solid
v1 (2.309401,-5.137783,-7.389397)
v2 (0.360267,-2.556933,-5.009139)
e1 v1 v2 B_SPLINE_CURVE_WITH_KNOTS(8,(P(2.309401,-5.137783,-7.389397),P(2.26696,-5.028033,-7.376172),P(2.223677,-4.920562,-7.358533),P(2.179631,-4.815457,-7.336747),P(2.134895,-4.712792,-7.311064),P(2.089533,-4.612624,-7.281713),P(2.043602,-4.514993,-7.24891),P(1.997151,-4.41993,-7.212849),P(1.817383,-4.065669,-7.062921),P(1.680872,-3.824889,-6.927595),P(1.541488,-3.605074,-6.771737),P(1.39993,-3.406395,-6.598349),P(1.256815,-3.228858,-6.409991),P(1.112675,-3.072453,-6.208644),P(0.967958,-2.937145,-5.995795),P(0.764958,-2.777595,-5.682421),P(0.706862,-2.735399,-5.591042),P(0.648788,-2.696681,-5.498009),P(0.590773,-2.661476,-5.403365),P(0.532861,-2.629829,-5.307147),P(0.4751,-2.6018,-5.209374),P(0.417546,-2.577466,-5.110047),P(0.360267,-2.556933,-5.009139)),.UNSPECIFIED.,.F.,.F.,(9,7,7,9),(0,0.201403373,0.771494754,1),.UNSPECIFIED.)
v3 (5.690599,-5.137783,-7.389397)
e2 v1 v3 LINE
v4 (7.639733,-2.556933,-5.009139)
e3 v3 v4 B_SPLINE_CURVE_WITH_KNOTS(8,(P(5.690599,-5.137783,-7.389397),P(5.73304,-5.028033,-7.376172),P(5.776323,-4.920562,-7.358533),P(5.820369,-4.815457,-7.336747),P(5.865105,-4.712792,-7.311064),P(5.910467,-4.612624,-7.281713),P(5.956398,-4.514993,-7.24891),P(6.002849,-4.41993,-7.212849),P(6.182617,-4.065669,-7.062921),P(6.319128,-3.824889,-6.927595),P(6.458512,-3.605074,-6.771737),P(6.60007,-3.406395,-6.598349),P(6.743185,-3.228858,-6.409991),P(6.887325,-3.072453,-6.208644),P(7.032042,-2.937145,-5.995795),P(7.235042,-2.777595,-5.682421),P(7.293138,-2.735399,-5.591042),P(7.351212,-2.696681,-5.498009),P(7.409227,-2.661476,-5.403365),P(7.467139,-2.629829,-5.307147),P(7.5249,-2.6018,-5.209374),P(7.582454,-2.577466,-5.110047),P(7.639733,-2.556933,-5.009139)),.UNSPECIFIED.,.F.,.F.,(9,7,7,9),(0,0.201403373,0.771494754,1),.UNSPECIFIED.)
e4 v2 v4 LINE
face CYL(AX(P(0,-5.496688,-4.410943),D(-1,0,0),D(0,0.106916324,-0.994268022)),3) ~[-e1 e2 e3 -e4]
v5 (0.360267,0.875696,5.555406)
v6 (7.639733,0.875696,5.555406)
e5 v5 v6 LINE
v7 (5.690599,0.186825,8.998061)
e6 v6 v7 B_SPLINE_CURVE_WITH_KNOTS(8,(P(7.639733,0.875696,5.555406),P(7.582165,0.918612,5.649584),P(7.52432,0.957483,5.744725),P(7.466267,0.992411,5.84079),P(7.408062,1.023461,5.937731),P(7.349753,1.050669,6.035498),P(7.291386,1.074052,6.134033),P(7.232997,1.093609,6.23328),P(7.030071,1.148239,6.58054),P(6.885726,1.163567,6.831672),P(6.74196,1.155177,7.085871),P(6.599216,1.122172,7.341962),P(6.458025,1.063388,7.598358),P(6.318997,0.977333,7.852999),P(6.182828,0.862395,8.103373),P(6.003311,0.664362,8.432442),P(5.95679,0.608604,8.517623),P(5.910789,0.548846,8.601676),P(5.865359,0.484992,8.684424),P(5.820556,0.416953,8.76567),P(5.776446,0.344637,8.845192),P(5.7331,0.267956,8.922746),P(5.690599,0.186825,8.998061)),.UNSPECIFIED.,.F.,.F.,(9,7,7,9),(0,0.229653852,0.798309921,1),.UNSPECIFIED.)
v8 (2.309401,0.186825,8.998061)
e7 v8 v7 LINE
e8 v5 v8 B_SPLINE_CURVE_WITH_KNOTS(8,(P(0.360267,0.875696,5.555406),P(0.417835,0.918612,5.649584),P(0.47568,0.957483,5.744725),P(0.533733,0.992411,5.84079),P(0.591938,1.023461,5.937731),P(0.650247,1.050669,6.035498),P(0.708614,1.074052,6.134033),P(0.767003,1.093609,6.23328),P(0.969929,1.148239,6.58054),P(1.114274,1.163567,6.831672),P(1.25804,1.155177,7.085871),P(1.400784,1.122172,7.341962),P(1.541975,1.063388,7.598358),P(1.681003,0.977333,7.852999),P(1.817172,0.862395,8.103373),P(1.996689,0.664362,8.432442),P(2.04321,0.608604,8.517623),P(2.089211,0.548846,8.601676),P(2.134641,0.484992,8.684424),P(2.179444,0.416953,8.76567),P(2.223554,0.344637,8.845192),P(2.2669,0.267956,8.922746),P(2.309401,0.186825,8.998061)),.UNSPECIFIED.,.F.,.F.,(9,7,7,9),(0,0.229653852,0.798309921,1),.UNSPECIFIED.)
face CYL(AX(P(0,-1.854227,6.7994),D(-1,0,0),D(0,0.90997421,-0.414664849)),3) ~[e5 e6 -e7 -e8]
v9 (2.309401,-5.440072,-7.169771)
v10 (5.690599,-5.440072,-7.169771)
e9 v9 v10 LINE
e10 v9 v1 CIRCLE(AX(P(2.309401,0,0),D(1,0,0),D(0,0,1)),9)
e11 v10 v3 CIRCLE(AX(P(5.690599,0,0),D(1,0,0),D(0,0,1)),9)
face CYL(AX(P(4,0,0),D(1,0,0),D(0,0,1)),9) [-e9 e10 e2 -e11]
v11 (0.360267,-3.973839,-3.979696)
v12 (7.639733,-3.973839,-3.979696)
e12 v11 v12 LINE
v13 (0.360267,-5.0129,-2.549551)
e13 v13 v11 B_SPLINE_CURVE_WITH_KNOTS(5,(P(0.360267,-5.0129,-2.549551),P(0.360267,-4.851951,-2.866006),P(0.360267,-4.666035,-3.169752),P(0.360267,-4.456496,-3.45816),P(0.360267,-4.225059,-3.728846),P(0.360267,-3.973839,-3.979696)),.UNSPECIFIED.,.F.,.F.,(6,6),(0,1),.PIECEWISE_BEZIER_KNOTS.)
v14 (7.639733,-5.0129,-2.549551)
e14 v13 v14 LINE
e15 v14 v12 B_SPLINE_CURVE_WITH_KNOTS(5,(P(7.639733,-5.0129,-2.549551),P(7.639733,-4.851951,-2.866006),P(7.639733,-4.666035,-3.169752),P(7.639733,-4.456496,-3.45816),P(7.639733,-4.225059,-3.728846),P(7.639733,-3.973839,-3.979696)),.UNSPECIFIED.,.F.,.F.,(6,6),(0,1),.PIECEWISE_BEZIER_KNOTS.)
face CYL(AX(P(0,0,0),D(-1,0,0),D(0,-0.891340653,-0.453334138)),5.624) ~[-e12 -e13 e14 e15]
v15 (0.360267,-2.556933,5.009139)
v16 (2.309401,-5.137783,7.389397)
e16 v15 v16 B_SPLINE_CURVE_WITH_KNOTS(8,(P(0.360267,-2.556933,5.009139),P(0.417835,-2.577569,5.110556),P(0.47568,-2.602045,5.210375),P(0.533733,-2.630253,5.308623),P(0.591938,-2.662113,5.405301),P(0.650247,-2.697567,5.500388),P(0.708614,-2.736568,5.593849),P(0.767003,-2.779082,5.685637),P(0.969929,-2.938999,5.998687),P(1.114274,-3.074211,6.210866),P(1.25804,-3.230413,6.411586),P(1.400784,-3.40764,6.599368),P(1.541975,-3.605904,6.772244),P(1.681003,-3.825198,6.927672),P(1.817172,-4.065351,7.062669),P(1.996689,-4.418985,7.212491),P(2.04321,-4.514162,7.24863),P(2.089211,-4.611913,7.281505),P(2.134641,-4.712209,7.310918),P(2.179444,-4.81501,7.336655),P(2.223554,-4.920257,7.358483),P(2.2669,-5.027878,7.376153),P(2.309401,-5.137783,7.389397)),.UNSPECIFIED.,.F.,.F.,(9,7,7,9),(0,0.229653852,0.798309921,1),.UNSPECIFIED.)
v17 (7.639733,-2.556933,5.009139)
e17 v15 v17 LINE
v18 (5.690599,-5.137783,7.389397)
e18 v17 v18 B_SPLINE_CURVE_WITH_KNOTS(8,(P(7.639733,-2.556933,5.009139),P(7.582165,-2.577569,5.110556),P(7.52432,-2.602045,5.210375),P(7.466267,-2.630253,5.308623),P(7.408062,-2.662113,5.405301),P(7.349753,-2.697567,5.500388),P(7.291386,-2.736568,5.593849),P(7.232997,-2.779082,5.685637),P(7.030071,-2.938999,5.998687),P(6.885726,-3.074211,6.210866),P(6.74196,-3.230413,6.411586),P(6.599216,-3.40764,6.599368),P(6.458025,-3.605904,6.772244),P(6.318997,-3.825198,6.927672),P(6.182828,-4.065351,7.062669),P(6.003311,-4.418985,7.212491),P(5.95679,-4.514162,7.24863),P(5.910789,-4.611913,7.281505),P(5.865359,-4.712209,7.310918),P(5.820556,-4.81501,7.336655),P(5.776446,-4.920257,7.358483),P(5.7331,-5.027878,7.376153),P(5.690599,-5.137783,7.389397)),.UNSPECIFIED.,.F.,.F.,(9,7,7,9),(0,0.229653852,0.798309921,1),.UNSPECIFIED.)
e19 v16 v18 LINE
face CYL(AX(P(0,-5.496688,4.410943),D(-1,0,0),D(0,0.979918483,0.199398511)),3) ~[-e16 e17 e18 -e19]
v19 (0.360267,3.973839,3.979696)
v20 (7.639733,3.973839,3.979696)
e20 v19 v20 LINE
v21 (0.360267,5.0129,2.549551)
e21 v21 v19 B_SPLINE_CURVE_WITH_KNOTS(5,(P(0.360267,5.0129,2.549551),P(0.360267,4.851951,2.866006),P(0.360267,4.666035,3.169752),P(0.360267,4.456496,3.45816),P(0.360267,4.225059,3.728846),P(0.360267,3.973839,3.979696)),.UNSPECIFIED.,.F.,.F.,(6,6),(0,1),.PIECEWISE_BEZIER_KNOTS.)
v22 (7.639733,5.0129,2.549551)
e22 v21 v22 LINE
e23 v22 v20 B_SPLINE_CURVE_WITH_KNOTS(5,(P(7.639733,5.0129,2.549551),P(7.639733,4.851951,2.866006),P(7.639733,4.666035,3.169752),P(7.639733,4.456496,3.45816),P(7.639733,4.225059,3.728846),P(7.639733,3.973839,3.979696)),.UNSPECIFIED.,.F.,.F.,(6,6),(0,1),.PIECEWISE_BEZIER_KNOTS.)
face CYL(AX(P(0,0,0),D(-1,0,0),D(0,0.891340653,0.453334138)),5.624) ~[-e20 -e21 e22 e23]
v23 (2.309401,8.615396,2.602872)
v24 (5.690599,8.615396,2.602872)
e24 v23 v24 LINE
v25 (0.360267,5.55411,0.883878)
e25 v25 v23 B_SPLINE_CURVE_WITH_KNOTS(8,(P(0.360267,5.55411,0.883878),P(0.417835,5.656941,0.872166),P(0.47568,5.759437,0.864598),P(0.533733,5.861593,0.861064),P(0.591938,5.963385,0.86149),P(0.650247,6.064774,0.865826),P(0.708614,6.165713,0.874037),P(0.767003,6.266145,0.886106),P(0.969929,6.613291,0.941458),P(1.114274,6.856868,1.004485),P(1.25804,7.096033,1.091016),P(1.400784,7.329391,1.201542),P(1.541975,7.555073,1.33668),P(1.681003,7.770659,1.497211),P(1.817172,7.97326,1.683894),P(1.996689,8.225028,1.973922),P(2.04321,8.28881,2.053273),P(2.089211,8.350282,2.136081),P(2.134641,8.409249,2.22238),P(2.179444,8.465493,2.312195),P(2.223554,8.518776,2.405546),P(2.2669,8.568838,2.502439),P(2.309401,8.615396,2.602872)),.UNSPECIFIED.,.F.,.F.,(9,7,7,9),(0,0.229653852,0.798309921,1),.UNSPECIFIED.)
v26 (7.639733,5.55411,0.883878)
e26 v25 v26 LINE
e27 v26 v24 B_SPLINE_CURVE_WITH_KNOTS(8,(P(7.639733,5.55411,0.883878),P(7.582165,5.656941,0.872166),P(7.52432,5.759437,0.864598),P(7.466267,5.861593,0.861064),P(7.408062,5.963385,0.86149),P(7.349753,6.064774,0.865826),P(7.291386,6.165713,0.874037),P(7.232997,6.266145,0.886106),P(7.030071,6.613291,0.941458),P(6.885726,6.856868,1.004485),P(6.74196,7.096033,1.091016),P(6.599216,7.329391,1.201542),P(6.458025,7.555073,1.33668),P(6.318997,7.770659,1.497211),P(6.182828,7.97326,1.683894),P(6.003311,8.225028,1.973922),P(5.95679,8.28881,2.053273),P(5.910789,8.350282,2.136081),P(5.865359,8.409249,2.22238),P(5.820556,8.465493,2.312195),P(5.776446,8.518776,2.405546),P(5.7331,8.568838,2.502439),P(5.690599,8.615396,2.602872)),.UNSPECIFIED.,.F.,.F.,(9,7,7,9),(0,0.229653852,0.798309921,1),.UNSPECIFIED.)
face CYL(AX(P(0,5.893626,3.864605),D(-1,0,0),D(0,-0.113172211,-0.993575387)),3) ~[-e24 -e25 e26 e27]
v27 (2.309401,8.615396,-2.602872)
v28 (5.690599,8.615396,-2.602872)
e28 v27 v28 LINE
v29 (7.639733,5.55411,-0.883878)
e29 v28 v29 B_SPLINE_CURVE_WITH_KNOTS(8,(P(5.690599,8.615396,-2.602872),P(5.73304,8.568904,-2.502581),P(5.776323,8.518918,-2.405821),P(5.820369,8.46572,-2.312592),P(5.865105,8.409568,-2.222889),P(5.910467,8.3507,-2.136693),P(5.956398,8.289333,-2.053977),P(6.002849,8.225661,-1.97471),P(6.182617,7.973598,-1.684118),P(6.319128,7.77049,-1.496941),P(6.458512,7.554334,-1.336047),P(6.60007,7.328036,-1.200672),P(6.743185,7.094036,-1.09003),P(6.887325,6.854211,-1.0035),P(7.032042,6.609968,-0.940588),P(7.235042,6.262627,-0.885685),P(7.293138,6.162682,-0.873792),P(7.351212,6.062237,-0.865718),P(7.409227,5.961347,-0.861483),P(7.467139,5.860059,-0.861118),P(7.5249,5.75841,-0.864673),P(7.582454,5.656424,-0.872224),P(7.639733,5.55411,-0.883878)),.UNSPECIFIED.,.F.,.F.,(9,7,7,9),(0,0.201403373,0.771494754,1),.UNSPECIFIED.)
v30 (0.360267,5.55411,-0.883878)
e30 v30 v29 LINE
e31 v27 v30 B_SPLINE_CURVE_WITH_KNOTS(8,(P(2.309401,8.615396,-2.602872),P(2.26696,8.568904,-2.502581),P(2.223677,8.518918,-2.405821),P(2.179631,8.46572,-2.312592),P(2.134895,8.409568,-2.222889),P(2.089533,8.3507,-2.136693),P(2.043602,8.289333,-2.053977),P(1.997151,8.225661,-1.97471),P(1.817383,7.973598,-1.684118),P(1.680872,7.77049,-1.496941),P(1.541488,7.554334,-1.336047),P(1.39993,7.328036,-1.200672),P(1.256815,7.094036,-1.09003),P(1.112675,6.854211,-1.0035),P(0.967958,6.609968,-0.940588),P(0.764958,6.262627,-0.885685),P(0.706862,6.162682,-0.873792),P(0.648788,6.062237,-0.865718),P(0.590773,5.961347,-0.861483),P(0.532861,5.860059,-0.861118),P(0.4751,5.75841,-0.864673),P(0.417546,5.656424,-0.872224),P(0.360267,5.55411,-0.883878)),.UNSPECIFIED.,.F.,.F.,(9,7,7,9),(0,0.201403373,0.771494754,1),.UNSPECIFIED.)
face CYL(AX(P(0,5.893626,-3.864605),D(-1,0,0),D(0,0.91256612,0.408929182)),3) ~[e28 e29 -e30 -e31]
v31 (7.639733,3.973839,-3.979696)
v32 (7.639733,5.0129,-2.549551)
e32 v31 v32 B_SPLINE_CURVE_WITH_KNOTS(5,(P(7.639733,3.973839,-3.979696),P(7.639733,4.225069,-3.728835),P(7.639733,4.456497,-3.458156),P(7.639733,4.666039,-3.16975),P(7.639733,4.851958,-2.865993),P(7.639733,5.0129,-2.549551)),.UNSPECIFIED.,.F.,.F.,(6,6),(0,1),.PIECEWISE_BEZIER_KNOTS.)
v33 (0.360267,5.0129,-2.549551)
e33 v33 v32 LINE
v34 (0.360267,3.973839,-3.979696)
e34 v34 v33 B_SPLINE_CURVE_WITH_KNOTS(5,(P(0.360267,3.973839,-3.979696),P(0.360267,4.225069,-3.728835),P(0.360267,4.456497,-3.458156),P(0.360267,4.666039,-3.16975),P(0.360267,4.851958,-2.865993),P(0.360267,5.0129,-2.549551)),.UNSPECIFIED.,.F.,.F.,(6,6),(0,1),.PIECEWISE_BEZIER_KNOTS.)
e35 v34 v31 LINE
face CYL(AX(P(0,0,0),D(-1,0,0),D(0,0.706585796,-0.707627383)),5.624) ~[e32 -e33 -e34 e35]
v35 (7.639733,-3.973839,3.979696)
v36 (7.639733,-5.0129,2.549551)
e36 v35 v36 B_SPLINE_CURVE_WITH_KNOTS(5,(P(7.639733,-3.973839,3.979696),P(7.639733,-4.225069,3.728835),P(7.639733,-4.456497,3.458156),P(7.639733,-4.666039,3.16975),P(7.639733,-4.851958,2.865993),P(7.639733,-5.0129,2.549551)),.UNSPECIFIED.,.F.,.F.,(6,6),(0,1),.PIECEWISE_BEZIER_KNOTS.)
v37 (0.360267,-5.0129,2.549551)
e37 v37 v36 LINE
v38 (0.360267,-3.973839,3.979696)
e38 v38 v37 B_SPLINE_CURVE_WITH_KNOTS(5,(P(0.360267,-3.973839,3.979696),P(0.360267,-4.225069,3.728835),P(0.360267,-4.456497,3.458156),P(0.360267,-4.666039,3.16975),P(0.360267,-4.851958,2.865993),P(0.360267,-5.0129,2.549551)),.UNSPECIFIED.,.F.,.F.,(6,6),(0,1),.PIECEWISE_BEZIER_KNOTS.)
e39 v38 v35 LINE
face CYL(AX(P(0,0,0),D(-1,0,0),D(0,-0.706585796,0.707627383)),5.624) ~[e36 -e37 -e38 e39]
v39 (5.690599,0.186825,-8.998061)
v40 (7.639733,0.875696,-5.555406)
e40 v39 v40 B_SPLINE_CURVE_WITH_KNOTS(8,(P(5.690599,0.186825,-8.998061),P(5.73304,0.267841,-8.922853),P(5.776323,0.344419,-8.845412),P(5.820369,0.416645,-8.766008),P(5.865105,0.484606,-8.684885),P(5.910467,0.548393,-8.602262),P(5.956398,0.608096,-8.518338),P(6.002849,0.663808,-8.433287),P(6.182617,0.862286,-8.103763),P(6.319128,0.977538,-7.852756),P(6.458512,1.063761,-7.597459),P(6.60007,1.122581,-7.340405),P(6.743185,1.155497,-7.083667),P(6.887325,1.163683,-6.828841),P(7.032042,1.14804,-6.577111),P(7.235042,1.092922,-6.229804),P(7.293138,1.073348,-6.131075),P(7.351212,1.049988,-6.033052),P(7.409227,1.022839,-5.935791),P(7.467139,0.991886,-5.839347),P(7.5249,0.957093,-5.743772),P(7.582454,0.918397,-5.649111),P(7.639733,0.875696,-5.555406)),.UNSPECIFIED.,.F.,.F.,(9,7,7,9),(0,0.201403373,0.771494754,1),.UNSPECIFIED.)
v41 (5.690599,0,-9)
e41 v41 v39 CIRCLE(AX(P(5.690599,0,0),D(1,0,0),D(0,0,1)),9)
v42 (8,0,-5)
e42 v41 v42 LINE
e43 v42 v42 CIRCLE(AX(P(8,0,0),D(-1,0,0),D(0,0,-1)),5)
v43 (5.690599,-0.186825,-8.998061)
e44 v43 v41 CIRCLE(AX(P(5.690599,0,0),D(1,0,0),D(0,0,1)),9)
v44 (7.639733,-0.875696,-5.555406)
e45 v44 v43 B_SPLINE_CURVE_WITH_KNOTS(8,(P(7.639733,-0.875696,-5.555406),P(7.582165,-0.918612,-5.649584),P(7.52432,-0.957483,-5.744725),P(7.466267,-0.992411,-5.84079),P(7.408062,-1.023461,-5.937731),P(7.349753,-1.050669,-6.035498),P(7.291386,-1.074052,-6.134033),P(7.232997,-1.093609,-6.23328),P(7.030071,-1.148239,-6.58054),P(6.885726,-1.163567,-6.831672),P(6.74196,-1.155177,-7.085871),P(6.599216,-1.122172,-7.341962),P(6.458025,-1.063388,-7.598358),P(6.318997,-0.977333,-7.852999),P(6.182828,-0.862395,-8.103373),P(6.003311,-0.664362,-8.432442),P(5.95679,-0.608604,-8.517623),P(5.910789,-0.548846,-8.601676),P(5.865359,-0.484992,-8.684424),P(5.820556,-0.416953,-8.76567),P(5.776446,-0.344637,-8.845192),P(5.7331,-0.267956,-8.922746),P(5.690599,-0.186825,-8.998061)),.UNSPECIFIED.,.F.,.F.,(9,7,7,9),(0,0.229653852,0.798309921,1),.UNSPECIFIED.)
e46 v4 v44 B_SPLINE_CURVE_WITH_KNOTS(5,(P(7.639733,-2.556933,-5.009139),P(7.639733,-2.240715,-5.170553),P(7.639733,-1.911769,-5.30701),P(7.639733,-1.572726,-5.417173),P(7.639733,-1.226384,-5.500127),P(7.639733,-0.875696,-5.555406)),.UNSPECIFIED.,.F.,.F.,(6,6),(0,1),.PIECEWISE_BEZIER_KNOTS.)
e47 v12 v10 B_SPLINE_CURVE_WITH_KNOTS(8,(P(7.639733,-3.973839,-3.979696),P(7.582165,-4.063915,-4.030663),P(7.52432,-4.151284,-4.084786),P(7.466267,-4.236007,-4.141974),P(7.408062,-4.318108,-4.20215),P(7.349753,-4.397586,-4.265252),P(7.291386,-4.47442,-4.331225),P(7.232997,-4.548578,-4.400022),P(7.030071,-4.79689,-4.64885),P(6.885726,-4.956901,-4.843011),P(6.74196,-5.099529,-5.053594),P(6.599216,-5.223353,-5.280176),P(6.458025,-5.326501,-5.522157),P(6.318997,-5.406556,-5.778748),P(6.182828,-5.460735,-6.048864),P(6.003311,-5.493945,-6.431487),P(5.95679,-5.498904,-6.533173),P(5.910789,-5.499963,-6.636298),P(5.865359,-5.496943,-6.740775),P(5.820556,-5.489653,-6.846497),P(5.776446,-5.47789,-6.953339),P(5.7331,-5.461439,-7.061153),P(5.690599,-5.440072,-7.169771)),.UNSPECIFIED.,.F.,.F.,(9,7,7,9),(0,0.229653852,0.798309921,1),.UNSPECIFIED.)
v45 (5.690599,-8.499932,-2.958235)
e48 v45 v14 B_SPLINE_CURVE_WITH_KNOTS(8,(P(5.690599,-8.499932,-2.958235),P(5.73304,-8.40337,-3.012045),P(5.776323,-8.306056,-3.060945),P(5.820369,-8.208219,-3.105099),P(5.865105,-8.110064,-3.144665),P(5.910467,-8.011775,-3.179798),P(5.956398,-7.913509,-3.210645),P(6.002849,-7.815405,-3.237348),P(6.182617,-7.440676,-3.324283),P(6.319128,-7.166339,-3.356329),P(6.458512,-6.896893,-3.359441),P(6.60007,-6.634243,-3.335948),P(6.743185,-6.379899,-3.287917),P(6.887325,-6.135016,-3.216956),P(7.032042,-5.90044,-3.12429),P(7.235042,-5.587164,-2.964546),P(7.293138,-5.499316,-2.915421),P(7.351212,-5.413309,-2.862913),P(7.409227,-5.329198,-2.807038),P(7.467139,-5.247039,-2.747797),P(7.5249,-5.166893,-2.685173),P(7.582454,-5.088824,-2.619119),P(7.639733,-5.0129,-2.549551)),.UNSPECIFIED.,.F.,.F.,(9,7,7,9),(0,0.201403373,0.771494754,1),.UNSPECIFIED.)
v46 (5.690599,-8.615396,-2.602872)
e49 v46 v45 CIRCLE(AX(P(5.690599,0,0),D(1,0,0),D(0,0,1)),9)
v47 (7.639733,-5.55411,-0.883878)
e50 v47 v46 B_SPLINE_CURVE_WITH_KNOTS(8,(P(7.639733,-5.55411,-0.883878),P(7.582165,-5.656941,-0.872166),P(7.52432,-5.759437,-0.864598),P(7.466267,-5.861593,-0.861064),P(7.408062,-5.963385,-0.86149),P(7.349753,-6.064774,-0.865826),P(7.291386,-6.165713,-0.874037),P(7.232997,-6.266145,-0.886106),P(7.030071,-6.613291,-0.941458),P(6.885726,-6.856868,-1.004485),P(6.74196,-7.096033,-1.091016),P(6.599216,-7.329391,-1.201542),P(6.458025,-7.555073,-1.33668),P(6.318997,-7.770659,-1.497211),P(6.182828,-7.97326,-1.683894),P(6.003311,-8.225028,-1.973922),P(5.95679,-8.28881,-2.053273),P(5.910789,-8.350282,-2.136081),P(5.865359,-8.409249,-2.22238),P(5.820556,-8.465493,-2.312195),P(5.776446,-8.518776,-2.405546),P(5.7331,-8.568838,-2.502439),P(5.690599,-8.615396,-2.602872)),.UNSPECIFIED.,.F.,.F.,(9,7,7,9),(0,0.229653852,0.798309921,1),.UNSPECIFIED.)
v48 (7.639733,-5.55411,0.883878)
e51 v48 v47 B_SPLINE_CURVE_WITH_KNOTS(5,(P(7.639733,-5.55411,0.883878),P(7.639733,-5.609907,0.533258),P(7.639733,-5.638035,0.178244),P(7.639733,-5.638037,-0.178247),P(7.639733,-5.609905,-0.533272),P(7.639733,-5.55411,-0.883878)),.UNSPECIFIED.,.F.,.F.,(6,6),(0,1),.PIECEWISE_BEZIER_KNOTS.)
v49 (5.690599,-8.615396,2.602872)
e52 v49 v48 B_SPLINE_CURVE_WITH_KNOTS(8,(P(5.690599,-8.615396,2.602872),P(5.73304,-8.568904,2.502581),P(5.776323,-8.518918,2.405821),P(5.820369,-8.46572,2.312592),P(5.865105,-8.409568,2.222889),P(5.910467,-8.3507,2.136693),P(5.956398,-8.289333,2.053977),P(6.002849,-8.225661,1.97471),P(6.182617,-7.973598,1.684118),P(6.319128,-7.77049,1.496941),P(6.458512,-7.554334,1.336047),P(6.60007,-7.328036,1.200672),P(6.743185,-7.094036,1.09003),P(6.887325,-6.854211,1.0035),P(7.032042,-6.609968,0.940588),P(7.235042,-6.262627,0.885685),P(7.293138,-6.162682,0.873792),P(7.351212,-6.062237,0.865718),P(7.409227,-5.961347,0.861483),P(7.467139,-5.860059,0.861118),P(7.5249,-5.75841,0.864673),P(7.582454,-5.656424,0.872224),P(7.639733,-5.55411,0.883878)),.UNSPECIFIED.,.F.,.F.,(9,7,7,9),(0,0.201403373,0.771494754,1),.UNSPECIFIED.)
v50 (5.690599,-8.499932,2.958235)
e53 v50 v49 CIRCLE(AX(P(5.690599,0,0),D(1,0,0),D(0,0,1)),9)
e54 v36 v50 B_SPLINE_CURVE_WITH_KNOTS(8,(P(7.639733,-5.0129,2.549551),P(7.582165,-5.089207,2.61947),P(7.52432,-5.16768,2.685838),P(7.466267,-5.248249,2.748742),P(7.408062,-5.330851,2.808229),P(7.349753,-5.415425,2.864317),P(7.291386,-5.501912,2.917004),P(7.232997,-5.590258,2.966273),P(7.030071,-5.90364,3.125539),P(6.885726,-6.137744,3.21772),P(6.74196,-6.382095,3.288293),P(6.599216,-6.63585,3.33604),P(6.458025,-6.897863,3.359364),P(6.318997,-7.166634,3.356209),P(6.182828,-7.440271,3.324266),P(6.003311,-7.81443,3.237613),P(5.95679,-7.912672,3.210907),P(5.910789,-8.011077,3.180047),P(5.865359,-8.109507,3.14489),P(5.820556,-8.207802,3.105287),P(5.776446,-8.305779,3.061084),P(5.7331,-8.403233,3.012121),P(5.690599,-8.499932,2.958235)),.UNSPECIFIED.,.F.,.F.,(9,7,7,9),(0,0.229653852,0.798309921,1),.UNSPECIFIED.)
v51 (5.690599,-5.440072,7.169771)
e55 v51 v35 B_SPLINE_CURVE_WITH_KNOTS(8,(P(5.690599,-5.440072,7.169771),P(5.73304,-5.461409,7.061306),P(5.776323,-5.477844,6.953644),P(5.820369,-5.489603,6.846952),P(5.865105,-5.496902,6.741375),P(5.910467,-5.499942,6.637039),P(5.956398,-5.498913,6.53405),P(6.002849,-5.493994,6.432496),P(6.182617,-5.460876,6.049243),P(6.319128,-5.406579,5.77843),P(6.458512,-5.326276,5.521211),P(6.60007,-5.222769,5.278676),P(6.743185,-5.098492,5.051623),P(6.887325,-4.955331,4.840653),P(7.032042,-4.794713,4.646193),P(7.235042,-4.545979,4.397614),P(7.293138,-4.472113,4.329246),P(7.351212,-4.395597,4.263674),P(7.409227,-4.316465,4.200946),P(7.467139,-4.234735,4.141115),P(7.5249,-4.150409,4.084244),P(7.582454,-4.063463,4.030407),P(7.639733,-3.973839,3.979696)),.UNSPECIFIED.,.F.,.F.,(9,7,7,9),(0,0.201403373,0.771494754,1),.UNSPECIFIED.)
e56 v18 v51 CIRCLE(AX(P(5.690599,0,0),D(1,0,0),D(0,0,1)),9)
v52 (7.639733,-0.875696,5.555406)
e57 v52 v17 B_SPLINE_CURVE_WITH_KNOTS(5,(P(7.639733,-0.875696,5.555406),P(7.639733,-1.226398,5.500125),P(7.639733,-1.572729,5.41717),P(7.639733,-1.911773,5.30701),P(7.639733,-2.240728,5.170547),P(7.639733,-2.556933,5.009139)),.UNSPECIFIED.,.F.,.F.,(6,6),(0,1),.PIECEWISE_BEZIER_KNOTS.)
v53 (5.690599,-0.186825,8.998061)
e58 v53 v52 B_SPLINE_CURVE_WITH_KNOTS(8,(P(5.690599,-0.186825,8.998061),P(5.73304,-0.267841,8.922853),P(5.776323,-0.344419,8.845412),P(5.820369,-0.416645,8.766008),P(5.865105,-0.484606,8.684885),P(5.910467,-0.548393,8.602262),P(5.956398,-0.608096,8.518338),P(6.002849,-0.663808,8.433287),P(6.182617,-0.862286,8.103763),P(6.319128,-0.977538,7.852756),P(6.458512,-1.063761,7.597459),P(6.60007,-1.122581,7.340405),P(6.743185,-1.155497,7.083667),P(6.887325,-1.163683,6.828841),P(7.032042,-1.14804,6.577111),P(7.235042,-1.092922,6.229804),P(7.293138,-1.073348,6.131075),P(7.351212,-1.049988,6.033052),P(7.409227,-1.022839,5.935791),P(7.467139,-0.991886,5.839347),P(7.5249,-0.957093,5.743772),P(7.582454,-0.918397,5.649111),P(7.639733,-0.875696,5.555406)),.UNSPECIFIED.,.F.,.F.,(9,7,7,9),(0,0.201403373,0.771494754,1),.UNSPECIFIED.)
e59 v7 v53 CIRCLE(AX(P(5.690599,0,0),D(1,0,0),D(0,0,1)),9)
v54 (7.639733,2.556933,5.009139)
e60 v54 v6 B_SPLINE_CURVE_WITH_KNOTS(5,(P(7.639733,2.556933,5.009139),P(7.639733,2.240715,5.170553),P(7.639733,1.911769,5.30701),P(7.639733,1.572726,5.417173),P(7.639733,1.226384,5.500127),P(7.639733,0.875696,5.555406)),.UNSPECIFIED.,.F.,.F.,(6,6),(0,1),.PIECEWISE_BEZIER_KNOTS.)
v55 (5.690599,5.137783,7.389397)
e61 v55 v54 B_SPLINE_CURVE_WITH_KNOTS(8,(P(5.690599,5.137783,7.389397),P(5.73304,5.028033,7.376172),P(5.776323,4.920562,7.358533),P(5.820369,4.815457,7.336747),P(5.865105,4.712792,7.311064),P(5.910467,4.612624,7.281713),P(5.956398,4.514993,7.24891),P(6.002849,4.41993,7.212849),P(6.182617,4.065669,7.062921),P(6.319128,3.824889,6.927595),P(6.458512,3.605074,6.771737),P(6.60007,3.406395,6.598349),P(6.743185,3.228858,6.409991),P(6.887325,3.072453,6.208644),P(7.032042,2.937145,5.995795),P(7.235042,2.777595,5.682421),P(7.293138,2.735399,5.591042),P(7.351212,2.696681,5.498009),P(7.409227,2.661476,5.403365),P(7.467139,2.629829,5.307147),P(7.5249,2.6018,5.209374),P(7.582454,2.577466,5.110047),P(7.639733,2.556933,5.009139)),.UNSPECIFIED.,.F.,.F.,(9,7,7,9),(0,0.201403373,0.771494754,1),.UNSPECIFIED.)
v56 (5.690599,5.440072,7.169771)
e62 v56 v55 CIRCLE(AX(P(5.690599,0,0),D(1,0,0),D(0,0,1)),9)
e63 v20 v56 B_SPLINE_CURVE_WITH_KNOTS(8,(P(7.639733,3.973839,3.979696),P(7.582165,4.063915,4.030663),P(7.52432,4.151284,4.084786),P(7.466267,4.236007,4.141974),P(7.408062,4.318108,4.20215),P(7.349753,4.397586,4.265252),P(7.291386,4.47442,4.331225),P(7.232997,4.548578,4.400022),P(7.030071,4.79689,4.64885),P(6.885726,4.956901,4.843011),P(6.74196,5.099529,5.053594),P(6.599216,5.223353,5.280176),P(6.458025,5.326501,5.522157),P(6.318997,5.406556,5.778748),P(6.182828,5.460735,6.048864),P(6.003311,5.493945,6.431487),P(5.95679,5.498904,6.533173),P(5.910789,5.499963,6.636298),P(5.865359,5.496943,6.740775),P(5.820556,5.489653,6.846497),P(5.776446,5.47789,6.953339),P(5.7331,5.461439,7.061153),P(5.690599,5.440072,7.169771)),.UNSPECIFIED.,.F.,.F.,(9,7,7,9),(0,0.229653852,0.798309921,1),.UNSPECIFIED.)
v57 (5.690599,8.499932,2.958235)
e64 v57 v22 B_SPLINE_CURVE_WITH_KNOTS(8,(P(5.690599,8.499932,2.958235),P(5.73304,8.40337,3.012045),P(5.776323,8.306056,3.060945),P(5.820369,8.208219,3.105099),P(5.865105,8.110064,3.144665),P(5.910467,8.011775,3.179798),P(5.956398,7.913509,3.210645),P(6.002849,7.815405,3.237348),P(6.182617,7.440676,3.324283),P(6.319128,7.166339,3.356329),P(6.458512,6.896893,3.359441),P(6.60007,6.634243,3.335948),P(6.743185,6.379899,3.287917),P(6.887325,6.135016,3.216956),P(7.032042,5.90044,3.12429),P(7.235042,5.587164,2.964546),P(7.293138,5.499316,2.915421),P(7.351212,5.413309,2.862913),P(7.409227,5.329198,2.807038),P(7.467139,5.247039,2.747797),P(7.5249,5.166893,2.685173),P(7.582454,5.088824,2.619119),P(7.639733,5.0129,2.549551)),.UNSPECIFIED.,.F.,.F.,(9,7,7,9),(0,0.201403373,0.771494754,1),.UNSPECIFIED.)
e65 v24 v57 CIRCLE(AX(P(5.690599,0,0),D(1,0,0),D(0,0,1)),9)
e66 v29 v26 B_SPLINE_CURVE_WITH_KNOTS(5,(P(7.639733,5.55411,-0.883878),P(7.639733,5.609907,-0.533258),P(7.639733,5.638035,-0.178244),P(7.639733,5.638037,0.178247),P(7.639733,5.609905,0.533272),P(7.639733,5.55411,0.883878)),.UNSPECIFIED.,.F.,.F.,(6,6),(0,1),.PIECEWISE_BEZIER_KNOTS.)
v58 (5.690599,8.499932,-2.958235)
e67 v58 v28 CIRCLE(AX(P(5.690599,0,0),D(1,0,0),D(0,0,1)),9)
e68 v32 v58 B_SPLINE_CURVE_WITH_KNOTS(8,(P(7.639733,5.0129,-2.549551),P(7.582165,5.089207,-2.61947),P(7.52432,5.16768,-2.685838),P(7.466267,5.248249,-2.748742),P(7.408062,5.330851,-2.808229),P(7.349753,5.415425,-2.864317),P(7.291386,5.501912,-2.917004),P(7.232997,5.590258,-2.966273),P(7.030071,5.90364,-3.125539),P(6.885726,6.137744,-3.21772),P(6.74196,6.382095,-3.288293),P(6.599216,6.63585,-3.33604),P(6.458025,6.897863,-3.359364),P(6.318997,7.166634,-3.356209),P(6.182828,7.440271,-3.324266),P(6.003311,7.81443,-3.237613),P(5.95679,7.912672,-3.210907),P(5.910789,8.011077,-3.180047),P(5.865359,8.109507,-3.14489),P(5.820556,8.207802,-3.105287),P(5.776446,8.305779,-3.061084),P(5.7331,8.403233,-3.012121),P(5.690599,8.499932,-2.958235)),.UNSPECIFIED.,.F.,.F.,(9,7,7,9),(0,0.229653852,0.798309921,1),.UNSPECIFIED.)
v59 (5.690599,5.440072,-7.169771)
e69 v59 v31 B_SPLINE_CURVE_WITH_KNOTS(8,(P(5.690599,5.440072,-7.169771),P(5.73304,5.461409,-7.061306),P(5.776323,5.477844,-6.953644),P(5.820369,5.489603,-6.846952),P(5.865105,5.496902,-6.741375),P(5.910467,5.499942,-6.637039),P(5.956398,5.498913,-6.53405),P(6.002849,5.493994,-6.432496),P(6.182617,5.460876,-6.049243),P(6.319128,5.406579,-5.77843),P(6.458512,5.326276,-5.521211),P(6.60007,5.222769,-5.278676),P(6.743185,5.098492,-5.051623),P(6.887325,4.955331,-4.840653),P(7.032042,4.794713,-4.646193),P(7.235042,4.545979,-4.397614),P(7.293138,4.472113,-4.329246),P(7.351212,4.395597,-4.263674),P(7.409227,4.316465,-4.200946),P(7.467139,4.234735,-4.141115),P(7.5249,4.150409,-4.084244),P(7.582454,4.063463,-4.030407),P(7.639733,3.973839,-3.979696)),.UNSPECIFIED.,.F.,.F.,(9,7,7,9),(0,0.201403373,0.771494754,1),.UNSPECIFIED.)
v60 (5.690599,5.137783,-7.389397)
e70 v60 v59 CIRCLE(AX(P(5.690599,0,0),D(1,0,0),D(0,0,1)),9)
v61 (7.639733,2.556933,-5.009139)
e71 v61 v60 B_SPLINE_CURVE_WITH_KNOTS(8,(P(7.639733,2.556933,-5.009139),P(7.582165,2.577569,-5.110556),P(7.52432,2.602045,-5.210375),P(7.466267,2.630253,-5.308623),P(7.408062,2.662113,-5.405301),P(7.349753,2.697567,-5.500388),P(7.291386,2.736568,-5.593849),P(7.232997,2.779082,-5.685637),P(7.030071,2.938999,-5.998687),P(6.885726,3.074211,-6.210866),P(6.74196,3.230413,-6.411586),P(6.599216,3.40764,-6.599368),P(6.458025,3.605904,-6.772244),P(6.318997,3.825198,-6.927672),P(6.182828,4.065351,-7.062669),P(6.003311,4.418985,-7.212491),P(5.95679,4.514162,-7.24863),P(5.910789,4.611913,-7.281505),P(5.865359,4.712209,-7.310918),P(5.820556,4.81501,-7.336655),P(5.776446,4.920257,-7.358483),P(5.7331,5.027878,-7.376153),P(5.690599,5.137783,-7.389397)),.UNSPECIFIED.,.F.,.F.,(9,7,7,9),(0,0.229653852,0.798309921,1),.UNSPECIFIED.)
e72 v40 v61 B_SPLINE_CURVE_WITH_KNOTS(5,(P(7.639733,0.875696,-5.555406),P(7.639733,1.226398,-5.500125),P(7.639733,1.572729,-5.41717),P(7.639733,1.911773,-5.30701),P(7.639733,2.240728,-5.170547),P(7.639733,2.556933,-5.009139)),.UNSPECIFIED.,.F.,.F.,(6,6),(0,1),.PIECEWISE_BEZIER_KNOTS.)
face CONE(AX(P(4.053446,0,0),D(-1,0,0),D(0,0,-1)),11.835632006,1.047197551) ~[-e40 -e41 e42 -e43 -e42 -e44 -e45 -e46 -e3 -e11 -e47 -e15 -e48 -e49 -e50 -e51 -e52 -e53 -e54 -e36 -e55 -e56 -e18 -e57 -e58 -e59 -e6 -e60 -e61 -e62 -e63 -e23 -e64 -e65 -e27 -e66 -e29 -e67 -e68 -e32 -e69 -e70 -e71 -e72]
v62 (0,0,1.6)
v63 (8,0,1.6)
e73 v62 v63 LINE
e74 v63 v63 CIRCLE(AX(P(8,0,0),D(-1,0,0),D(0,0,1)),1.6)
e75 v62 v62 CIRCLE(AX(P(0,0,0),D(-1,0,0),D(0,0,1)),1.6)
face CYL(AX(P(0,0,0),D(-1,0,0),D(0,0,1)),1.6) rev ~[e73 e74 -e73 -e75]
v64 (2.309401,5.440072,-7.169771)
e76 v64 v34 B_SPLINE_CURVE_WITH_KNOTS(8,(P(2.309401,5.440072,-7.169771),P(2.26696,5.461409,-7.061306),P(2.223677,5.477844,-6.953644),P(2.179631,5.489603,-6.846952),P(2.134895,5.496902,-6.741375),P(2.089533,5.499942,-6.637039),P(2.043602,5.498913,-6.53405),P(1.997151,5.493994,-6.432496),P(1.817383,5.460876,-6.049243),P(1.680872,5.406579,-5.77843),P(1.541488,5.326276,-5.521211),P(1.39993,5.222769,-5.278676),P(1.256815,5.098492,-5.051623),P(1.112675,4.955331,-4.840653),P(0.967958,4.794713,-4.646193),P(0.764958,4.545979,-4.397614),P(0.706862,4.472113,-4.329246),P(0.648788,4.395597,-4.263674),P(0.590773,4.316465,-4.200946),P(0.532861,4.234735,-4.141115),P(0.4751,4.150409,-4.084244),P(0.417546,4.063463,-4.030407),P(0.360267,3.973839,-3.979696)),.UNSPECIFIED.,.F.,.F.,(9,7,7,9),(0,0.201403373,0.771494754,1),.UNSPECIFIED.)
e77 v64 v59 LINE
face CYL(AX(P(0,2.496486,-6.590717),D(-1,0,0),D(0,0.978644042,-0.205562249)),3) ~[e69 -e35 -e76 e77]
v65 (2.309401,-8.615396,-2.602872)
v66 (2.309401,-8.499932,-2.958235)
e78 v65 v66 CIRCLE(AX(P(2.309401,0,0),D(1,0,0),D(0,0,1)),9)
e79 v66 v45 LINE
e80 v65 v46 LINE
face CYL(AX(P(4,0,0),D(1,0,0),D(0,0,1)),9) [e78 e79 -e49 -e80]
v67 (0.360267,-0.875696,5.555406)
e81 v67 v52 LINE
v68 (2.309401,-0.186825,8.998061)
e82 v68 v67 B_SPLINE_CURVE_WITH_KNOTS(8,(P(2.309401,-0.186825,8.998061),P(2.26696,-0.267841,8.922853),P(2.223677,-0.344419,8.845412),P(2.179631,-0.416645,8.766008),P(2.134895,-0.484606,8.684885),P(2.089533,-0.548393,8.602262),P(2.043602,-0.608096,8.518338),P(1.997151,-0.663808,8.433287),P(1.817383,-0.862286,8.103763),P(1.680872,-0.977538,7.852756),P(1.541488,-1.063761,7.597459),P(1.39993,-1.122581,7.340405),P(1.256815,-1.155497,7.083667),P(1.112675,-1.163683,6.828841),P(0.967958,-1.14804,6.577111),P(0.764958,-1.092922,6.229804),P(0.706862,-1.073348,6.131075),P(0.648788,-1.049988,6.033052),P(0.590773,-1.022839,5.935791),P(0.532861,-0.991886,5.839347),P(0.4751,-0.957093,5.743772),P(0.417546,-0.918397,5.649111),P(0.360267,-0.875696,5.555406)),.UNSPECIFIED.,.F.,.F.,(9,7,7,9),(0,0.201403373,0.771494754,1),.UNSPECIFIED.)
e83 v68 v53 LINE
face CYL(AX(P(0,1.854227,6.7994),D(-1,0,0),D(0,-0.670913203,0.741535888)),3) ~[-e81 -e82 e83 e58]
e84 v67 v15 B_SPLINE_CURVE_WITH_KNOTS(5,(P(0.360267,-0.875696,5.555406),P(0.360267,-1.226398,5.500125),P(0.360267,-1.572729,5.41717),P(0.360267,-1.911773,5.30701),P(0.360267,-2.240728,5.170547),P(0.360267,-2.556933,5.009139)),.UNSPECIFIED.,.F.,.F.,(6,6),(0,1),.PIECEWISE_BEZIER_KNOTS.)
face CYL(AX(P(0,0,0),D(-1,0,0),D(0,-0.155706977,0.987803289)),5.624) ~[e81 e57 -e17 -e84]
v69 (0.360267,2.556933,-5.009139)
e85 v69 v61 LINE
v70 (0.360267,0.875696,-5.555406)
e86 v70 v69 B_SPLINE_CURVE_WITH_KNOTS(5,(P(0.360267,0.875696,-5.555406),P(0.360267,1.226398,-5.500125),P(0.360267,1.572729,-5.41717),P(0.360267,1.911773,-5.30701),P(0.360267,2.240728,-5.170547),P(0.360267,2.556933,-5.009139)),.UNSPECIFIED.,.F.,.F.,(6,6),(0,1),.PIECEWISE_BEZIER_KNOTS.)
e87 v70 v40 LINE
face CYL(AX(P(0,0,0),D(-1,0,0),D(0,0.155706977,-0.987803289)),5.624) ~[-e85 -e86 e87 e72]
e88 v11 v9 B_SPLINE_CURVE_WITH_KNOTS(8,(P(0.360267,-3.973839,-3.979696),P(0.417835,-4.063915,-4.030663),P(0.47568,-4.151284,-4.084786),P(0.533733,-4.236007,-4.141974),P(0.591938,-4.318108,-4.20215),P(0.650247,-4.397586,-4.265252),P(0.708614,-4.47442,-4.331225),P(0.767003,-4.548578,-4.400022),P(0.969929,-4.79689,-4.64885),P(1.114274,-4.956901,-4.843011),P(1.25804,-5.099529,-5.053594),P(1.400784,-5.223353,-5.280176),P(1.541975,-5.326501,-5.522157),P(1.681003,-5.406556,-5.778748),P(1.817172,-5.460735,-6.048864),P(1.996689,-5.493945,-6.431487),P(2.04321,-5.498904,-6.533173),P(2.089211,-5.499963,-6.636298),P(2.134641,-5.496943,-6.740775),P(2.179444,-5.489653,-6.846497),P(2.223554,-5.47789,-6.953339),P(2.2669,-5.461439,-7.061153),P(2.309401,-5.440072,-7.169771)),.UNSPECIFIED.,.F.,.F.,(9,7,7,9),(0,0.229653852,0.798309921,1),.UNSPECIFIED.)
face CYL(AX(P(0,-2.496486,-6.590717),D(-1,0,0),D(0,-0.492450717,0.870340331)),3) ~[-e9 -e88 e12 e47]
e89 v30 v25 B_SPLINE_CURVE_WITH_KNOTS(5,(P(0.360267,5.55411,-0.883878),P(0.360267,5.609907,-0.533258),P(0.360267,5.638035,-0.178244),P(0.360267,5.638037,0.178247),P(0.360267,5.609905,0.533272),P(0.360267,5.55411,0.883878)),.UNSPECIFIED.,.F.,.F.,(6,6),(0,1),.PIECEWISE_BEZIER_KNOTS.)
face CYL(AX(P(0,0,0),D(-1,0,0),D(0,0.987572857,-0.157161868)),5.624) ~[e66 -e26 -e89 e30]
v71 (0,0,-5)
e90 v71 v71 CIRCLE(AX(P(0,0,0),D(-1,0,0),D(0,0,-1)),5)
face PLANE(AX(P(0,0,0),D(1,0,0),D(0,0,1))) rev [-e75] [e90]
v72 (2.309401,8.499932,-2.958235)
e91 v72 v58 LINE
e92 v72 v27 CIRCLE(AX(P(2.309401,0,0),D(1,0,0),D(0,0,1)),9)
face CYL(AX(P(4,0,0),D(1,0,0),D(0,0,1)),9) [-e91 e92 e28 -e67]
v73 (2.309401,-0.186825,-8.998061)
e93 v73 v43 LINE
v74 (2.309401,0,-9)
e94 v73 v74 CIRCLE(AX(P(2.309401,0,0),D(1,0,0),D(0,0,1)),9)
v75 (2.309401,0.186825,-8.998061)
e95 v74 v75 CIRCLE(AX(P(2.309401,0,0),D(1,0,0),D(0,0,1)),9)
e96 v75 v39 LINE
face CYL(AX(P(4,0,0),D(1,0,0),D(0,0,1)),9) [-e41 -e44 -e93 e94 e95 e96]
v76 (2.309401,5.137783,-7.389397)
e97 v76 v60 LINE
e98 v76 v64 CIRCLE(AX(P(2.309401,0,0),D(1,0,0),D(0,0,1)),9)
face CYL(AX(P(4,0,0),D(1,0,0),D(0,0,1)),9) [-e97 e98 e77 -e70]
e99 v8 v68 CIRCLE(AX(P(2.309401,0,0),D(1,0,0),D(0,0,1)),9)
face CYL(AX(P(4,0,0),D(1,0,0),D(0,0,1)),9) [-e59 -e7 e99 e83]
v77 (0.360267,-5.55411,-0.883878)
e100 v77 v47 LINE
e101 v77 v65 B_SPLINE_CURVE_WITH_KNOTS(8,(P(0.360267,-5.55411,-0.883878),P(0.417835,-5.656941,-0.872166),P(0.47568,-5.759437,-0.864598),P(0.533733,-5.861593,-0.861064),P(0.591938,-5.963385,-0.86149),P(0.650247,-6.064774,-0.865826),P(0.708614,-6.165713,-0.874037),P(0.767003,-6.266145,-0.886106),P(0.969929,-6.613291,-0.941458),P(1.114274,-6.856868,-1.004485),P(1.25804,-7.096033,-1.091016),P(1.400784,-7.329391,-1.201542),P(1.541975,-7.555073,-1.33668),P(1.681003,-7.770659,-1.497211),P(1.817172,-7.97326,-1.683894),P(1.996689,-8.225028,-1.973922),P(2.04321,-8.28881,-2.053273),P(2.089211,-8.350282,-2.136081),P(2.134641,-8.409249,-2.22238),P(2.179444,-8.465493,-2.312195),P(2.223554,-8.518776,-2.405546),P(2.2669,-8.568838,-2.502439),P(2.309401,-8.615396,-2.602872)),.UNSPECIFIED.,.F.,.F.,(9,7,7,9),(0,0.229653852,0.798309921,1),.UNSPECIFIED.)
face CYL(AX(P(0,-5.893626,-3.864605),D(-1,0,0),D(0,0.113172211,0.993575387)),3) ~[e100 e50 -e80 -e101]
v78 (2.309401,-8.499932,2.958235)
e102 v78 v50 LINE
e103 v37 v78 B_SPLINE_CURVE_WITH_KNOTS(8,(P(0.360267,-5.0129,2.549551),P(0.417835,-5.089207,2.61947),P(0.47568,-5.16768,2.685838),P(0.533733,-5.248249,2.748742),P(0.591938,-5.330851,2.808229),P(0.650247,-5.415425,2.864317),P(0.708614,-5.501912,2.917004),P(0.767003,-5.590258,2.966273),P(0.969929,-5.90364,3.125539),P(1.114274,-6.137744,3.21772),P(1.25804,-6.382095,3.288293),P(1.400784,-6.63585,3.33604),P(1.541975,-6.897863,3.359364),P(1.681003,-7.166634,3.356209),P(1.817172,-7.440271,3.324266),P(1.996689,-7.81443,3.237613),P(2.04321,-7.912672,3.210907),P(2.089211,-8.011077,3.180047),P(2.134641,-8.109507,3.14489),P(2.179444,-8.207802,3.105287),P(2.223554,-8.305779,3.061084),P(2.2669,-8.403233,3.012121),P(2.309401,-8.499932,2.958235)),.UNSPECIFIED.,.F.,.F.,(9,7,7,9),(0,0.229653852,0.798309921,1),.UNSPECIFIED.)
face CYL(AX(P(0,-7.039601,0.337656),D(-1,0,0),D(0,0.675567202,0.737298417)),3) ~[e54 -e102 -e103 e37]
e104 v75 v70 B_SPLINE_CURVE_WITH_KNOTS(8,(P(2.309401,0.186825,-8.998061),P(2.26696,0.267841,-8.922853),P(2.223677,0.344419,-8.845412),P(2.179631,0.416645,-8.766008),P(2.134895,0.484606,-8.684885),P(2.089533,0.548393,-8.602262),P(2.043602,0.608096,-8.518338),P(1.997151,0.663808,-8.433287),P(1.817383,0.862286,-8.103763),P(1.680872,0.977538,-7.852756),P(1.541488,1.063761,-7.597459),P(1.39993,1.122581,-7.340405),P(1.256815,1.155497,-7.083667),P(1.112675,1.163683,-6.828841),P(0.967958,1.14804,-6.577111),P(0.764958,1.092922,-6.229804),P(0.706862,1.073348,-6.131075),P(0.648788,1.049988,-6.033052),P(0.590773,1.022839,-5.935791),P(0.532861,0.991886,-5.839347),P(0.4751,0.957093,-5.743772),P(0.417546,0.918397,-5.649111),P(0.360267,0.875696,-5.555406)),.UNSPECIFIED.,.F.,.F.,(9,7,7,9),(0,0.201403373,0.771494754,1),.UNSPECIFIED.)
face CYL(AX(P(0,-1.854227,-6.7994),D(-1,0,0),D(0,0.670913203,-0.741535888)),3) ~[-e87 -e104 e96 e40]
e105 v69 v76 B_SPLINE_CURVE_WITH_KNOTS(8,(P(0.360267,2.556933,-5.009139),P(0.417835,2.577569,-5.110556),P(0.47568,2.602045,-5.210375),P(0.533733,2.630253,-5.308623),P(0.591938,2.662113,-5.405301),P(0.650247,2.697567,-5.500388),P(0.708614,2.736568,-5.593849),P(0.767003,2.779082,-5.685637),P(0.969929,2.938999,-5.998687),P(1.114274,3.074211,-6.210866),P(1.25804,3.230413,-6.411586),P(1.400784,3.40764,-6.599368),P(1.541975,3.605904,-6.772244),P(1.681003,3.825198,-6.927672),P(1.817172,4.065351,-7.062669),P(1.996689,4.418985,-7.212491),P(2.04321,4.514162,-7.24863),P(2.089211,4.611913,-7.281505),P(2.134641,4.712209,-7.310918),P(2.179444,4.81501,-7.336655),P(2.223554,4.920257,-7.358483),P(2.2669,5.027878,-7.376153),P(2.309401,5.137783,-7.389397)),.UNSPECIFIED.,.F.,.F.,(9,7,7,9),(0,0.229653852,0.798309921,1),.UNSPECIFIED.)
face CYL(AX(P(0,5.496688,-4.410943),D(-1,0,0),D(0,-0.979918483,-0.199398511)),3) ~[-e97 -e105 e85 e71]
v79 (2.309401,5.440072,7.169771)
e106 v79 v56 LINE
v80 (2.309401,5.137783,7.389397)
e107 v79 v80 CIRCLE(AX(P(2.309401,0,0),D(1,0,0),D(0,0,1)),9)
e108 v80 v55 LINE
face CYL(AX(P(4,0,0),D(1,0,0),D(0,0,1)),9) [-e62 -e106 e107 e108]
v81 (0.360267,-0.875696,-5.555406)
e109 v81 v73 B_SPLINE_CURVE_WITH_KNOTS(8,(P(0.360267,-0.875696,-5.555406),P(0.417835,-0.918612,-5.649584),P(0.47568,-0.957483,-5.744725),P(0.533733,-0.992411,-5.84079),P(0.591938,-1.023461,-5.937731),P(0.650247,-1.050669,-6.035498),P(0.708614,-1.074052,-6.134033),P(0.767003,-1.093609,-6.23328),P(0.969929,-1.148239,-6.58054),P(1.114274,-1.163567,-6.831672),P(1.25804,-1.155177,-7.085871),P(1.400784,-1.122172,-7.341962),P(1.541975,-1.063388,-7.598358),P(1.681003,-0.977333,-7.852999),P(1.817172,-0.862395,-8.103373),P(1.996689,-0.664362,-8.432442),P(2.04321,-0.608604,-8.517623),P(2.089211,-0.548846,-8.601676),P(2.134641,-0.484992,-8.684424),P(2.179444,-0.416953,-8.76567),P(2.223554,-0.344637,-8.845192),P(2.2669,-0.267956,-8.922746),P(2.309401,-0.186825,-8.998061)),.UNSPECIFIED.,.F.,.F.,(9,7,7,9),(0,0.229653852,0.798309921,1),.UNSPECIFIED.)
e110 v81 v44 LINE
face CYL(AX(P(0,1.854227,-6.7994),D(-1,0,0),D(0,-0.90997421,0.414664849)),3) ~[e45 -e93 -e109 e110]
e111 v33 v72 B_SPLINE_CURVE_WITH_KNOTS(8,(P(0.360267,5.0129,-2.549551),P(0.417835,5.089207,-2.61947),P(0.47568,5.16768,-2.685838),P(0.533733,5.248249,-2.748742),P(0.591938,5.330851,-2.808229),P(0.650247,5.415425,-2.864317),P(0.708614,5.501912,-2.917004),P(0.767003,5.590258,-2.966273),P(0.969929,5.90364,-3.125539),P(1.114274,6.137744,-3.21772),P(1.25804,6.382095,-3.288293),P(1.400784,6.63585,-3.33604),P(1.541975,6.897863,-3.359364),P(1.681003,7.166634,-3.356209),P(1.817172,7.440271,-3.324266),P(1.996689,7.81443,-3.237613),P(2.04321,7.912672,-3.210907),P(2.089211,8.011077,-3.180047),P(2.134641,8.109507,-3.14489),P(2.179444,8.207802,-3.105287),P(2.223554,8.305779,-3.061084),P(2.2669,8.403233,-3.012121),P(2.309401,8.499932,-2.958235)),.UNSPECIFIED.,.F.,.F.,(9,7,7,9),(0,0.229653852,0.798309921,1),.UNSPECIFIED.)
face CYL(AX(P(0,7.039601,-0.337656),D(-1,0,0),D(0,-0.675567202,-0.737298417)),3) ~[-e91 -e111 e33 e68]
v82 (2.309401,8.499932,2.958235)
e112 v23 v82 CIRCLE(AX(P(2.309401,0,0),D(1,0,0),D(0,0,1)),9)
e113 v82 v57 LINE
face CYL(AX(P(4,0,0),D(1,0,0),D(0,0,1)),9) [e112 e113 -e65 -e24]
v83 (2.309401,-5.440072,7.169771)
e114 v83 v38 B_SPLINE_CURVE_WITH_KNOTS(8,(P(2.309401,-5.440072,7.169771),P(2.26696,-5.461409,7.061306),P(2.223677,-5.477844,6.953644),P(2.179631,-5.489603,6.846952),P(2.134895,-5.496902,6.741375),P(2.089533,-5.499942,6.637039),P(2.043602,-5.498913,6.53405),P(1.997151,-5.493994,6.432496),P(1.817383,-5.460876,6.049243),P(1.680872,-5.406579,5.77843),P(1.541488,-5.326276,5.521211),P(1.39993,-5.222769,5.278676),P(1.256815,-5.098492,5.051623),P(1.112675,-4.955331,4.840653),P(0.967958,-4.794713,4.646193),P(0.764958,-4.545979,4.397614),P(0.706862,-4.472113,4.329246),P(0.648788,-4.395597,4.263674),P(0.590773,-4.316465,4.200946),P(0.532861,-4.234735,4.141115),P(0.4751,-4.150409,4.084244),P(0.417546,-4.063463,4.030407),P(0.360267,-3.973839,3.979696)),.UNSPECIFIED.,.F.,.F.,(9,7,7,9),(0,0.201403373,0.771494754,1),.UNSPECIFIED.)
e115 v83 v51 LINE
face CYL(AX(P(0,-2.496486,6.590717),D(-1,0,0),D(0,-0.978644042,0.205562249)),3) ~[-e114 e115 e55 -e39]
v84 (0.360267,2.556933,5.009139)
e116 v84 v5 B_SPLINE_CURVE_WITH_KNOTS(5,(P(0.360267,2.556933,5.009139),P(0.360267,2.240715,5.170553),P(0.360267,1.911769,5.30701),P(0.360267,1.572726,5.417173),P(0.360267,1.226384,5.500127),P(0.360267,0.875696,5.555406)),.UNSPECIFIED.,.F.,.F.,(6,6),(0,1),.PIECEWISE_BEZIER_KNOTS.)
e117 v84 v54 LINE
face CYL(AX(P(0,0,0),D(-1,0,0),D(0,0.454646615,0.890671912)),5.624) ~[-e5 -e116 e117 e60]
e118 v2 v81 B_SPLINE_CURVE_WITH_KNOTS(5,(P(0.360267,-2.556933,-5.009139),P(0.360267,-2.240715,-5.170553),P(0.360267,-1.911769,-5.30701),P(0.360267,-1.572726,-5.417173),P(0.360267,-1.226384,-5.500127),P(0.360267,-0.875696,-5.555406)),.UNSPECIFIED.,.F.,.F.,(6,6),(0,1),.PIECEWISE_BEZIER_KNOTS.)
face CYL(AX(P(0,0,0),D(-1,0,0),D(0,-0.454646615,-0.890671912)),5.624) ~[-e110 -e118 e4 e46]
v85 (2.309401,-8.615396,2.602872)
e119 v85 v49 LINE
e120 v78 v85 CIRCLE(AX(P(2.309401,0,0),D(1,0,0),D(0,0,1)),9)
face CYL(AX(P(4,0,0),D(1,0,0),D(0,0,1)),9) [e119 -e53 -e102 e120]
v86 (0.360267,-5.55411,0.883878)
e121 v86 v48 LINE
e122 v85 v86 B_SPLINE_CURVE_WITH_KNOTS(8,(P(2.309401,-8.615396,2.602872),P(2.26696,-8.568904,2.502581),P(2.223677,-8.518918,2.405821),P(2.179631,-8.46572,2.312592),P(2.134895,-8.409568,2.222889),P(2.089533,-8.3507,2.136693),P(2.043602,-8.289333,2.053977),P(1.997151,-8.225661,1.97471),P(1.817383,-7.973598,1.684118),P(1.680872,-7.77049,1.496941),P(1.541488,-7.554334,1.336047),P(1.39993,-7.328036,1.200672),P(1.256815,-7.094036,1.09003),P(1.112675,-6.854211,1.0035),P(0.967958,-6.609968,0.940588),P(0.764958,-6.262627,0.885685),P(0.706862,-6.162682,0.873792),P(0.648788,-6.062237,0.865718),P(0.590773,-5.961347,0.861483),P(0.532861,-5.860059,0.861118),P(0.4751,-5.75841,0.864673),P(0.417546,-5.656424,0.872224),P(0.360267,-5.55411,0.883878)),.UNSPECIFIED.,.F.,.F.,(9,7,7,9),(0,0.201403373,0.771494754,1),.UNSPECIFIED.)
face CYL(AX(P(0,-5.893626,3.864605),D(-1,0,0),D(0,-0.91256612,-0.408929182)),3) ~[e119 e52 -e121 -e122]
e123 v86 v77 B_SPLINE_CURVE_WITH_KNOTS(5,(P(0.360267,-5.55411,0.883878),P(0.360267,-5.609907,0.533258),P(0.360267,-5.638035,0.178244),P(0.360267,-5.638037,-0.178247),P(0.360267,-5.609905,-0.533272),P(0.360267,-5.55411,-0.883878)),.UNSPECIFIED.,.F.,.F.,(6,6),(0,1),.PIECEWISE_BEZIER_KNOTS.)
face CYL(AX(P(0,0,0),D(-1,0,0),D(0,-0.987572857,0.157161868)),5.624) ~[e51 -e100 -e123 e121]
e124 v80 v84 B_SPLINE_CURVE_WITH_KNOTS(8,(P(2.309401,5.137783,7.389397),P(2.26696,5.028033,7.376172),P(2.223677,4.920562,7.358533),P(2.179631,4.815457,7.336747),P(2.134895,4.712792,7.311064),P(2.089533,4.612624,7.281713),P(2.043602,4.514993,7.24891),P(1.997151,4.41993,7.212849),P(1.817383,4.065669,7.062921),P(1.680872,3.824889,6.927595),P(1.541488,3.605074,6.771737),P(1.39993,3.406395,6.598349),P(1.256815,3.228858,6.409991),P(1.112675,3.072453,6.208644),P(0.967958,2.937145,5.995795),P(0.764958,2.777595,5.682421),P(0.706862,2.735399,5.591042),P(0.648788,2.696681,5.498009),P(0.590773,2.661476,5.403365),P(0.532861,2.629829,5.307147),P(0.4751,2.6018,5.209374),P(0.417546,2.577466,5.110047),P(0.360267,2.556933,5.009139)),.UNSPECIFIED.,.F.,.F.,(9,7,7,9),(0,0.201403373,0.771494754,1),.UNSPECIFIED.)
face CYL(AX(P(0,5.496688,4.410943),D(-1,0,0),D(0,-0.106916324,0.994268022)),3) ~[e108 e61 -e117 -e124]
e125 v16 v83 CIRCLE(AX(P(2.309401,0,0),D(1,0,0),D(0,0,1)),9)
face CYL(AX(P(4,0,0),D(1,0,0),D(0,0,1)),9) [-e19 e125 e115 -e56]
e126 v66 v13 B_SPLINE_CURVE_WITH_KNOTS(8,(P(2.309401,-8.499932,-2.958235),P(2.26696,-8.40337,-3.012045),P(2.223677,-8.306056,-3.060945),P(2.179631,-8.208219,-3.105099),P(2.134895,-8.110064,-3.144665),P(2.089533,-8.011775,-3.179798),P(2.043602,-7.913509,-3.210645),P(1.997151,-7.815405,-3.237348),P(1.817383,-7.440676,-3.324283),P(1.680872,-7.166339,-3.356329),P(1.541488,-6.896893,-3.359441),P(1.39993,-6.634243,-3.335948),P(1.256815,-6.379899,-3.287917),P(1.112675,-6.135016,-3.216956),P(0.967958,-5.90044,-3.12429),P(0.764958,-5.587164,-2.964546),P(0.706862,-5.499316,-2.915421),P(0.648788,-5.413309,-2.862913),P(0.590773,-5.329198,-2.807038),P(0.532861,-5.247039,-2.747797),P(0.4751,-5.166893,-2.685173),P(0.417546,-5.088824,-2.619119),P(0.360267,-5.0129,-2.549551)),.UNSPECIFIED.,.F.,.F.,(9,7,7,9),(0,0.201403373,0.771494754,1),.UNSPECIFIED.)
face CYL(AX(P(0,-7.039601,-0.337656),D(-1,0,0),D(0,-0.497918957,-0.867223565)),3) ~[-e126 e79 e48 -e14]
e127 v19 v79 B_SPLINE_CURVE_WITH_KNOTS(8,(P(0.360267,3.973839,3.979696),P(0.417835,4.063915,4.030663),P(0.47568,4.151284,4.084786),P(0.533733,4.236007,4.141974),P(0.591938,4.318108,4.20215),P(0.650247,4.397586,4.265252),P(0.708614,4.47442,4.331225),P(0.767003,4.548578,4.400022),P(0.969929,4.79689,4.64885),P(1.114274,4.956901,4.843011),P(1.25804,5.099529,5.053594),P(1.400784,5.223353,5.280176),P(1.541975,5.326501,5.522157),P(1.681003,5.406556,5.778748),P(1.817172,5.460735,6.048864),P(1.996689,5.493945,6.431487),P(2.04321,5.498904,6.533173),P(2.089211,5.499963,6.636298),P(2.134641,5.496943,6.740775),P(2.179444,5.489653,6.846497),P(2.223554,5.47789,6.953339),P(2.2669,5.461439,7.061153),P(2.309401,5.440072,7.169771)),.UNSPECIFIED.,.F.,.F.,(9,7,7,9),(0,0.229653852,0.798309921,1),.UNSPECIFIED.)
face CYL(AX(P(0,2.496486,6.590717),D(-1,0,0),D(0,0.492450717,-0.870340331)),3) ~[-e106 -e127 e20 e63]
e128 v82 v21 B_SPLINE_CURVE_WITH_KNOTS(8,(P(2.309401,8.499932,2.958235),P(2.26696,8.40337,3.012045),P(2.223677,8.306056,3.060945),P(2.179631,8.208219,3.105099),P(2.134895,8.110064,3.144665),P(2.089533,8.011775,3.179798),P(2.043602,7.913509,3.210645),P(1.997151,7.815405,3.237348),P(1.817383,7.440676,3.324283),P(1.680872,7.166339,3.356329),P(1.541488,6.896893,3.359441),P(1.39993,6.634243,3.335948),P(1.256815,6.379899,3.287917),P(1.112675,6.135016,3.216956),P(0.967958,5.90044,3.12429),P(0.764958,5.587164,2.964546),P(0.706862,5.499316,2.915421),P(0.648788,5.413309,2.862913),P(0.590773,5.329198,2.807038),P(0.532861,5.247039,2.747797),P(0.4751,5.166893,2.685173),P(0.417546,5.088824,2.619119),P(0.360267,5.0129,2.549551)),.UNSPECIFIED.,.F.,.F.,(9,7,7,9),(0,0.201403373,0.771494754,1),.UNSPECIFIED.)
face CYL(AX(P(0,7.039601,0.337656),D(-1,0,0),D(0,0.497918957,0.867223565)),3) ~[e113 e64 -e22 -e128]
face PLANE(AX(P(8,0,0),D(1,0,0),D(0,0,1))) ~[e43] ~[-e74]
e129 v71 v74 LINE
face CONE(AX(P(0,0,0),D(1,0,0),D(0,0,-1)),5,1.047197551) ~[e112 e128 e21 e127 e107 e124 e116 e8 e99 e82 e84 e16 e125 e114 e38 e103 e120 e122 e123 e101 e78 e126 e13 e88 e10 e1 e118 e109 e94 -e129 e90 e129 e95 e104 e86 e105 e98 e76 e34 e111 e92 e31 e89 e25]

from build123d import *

# Parameters (mm, degrees)
BASPROSKE_W        = 8
BASPROSKE_H        = 9
TOOTHCUT_DEPTH     = 16.033296378
TEETHCUTS_COUNT    = 10
TEETHCUTS_ANGLE    = 324
BORSKE_R           = 1.5
BORE_DEPTH         = 50.0000508
SKETCH2_R          = 1.6
CUT_EXTRUDE1_DEPTH = 10


with BuildPart() as part:
    # BasProSke → Base-Revolve (revolve)
    with BuildSketch(Plane(origin=(0, 0, 0), x_dir=(1, 0, 0), z_dir=(0, 1, 0)), mode=Mode.PRIVATE) as base_revolve_sk:
        with Locations((4, 4.5)):
            Rectangle(BASPROSKE_W, BASPROSKE_H)
    revolve(base_revolve_sk.sketch.rotate(Axis((-10, 0, 0), (1, 0, 0)), 180), axis=Axis((-10, 0, 0), (1, 0, 0)))

    # TooCutSke → ToothCut (cut, through all)
    with BuildSketch(Plane(origin=(0, 0, 0), x_dir=(0, 0, -1), z_dir=(1, 0, 0))):
        with BuildLine():
            ThreePointArc((0.883878355, 5.554109745), (0, 5.624), (-0.883878355, 5.554109745))
            ThreePointArc((-0.883878355, 5.554109745), (-1.258245767, 7.379188248), (-2.637816971, 8.631324741))
            ThreePointArc((-2.637816971, 8.631324741), (0, 9.0254), (2.637816971, 8.631324741))
            ThreePointArc((2.637816971, 8.631324741), (1.258245767, 7.379188248), (0.883878355, 5.554109745))
        make_face()
    toothcut = extrude(amount=TOOTHCUT_DEPTH, mode=Mode.SUBTRACT)

    # TeethCuts: ToothCut ×10 about axis
    teethcuts_axis = Axis((-10, 0, 0), (1, 0, 0))
    for i in range(1, TEETHCUTS_COUNT):
        add(toothcut.rotate(teethcuts_axis, i * TEETHCUTS_ANGLE / (TEETHCUTS_COUNT - 1)), mode=Mode.SUBTRACT)

    # BorSke → Bore (cut, symmetric)
    with BuildSketch(Plane(origin=(0, 0, 0), x_dir=(0, 0, -1), z_dir=(1, 0, 0))):
        with Locations(Location((0, 0, 0), (0, 0, 180))):
            Circle(BORSKE_R)
    extrude(amount=BORE_DEPTH, both=True, mode=Mode.SUBTRACT)

    # Sketch1 → Cut-Revolve1 (revolve, cut)
    with BuildSketch(Plane(origin=(0, 0, 0), x_dir=(1, 0, 0), z_dir=(0, 1, 0)), mode=Mode.PRIVATE) as cut_revolve1_sk:
        Polygon((0, -5), (3.946553979, -11.835632006), (4.053446021, -11.835632006), (8, -5), (10.092806182, -15.908435196), (-2.21285392, -14.524958616), align=None)
    revolve(cut_revolve1_sk.sketch.rotate(Axis((0, 0, 0), (-1, 0, 0)), 180), axis=Axis((0, 0, 0), (-1, 0, 0)), mode=Mode.SUBTRACT)

    # Sketch2 → Cut-Extrude1 (cut)
    with BuildSketch(Plane.ZY):
        Circle(SKETCH2_R)
    extrude(amount=-CUT_EXTRUDE1_DEPTH, mode=Mode.SUBTRACT)


solid = part.part
